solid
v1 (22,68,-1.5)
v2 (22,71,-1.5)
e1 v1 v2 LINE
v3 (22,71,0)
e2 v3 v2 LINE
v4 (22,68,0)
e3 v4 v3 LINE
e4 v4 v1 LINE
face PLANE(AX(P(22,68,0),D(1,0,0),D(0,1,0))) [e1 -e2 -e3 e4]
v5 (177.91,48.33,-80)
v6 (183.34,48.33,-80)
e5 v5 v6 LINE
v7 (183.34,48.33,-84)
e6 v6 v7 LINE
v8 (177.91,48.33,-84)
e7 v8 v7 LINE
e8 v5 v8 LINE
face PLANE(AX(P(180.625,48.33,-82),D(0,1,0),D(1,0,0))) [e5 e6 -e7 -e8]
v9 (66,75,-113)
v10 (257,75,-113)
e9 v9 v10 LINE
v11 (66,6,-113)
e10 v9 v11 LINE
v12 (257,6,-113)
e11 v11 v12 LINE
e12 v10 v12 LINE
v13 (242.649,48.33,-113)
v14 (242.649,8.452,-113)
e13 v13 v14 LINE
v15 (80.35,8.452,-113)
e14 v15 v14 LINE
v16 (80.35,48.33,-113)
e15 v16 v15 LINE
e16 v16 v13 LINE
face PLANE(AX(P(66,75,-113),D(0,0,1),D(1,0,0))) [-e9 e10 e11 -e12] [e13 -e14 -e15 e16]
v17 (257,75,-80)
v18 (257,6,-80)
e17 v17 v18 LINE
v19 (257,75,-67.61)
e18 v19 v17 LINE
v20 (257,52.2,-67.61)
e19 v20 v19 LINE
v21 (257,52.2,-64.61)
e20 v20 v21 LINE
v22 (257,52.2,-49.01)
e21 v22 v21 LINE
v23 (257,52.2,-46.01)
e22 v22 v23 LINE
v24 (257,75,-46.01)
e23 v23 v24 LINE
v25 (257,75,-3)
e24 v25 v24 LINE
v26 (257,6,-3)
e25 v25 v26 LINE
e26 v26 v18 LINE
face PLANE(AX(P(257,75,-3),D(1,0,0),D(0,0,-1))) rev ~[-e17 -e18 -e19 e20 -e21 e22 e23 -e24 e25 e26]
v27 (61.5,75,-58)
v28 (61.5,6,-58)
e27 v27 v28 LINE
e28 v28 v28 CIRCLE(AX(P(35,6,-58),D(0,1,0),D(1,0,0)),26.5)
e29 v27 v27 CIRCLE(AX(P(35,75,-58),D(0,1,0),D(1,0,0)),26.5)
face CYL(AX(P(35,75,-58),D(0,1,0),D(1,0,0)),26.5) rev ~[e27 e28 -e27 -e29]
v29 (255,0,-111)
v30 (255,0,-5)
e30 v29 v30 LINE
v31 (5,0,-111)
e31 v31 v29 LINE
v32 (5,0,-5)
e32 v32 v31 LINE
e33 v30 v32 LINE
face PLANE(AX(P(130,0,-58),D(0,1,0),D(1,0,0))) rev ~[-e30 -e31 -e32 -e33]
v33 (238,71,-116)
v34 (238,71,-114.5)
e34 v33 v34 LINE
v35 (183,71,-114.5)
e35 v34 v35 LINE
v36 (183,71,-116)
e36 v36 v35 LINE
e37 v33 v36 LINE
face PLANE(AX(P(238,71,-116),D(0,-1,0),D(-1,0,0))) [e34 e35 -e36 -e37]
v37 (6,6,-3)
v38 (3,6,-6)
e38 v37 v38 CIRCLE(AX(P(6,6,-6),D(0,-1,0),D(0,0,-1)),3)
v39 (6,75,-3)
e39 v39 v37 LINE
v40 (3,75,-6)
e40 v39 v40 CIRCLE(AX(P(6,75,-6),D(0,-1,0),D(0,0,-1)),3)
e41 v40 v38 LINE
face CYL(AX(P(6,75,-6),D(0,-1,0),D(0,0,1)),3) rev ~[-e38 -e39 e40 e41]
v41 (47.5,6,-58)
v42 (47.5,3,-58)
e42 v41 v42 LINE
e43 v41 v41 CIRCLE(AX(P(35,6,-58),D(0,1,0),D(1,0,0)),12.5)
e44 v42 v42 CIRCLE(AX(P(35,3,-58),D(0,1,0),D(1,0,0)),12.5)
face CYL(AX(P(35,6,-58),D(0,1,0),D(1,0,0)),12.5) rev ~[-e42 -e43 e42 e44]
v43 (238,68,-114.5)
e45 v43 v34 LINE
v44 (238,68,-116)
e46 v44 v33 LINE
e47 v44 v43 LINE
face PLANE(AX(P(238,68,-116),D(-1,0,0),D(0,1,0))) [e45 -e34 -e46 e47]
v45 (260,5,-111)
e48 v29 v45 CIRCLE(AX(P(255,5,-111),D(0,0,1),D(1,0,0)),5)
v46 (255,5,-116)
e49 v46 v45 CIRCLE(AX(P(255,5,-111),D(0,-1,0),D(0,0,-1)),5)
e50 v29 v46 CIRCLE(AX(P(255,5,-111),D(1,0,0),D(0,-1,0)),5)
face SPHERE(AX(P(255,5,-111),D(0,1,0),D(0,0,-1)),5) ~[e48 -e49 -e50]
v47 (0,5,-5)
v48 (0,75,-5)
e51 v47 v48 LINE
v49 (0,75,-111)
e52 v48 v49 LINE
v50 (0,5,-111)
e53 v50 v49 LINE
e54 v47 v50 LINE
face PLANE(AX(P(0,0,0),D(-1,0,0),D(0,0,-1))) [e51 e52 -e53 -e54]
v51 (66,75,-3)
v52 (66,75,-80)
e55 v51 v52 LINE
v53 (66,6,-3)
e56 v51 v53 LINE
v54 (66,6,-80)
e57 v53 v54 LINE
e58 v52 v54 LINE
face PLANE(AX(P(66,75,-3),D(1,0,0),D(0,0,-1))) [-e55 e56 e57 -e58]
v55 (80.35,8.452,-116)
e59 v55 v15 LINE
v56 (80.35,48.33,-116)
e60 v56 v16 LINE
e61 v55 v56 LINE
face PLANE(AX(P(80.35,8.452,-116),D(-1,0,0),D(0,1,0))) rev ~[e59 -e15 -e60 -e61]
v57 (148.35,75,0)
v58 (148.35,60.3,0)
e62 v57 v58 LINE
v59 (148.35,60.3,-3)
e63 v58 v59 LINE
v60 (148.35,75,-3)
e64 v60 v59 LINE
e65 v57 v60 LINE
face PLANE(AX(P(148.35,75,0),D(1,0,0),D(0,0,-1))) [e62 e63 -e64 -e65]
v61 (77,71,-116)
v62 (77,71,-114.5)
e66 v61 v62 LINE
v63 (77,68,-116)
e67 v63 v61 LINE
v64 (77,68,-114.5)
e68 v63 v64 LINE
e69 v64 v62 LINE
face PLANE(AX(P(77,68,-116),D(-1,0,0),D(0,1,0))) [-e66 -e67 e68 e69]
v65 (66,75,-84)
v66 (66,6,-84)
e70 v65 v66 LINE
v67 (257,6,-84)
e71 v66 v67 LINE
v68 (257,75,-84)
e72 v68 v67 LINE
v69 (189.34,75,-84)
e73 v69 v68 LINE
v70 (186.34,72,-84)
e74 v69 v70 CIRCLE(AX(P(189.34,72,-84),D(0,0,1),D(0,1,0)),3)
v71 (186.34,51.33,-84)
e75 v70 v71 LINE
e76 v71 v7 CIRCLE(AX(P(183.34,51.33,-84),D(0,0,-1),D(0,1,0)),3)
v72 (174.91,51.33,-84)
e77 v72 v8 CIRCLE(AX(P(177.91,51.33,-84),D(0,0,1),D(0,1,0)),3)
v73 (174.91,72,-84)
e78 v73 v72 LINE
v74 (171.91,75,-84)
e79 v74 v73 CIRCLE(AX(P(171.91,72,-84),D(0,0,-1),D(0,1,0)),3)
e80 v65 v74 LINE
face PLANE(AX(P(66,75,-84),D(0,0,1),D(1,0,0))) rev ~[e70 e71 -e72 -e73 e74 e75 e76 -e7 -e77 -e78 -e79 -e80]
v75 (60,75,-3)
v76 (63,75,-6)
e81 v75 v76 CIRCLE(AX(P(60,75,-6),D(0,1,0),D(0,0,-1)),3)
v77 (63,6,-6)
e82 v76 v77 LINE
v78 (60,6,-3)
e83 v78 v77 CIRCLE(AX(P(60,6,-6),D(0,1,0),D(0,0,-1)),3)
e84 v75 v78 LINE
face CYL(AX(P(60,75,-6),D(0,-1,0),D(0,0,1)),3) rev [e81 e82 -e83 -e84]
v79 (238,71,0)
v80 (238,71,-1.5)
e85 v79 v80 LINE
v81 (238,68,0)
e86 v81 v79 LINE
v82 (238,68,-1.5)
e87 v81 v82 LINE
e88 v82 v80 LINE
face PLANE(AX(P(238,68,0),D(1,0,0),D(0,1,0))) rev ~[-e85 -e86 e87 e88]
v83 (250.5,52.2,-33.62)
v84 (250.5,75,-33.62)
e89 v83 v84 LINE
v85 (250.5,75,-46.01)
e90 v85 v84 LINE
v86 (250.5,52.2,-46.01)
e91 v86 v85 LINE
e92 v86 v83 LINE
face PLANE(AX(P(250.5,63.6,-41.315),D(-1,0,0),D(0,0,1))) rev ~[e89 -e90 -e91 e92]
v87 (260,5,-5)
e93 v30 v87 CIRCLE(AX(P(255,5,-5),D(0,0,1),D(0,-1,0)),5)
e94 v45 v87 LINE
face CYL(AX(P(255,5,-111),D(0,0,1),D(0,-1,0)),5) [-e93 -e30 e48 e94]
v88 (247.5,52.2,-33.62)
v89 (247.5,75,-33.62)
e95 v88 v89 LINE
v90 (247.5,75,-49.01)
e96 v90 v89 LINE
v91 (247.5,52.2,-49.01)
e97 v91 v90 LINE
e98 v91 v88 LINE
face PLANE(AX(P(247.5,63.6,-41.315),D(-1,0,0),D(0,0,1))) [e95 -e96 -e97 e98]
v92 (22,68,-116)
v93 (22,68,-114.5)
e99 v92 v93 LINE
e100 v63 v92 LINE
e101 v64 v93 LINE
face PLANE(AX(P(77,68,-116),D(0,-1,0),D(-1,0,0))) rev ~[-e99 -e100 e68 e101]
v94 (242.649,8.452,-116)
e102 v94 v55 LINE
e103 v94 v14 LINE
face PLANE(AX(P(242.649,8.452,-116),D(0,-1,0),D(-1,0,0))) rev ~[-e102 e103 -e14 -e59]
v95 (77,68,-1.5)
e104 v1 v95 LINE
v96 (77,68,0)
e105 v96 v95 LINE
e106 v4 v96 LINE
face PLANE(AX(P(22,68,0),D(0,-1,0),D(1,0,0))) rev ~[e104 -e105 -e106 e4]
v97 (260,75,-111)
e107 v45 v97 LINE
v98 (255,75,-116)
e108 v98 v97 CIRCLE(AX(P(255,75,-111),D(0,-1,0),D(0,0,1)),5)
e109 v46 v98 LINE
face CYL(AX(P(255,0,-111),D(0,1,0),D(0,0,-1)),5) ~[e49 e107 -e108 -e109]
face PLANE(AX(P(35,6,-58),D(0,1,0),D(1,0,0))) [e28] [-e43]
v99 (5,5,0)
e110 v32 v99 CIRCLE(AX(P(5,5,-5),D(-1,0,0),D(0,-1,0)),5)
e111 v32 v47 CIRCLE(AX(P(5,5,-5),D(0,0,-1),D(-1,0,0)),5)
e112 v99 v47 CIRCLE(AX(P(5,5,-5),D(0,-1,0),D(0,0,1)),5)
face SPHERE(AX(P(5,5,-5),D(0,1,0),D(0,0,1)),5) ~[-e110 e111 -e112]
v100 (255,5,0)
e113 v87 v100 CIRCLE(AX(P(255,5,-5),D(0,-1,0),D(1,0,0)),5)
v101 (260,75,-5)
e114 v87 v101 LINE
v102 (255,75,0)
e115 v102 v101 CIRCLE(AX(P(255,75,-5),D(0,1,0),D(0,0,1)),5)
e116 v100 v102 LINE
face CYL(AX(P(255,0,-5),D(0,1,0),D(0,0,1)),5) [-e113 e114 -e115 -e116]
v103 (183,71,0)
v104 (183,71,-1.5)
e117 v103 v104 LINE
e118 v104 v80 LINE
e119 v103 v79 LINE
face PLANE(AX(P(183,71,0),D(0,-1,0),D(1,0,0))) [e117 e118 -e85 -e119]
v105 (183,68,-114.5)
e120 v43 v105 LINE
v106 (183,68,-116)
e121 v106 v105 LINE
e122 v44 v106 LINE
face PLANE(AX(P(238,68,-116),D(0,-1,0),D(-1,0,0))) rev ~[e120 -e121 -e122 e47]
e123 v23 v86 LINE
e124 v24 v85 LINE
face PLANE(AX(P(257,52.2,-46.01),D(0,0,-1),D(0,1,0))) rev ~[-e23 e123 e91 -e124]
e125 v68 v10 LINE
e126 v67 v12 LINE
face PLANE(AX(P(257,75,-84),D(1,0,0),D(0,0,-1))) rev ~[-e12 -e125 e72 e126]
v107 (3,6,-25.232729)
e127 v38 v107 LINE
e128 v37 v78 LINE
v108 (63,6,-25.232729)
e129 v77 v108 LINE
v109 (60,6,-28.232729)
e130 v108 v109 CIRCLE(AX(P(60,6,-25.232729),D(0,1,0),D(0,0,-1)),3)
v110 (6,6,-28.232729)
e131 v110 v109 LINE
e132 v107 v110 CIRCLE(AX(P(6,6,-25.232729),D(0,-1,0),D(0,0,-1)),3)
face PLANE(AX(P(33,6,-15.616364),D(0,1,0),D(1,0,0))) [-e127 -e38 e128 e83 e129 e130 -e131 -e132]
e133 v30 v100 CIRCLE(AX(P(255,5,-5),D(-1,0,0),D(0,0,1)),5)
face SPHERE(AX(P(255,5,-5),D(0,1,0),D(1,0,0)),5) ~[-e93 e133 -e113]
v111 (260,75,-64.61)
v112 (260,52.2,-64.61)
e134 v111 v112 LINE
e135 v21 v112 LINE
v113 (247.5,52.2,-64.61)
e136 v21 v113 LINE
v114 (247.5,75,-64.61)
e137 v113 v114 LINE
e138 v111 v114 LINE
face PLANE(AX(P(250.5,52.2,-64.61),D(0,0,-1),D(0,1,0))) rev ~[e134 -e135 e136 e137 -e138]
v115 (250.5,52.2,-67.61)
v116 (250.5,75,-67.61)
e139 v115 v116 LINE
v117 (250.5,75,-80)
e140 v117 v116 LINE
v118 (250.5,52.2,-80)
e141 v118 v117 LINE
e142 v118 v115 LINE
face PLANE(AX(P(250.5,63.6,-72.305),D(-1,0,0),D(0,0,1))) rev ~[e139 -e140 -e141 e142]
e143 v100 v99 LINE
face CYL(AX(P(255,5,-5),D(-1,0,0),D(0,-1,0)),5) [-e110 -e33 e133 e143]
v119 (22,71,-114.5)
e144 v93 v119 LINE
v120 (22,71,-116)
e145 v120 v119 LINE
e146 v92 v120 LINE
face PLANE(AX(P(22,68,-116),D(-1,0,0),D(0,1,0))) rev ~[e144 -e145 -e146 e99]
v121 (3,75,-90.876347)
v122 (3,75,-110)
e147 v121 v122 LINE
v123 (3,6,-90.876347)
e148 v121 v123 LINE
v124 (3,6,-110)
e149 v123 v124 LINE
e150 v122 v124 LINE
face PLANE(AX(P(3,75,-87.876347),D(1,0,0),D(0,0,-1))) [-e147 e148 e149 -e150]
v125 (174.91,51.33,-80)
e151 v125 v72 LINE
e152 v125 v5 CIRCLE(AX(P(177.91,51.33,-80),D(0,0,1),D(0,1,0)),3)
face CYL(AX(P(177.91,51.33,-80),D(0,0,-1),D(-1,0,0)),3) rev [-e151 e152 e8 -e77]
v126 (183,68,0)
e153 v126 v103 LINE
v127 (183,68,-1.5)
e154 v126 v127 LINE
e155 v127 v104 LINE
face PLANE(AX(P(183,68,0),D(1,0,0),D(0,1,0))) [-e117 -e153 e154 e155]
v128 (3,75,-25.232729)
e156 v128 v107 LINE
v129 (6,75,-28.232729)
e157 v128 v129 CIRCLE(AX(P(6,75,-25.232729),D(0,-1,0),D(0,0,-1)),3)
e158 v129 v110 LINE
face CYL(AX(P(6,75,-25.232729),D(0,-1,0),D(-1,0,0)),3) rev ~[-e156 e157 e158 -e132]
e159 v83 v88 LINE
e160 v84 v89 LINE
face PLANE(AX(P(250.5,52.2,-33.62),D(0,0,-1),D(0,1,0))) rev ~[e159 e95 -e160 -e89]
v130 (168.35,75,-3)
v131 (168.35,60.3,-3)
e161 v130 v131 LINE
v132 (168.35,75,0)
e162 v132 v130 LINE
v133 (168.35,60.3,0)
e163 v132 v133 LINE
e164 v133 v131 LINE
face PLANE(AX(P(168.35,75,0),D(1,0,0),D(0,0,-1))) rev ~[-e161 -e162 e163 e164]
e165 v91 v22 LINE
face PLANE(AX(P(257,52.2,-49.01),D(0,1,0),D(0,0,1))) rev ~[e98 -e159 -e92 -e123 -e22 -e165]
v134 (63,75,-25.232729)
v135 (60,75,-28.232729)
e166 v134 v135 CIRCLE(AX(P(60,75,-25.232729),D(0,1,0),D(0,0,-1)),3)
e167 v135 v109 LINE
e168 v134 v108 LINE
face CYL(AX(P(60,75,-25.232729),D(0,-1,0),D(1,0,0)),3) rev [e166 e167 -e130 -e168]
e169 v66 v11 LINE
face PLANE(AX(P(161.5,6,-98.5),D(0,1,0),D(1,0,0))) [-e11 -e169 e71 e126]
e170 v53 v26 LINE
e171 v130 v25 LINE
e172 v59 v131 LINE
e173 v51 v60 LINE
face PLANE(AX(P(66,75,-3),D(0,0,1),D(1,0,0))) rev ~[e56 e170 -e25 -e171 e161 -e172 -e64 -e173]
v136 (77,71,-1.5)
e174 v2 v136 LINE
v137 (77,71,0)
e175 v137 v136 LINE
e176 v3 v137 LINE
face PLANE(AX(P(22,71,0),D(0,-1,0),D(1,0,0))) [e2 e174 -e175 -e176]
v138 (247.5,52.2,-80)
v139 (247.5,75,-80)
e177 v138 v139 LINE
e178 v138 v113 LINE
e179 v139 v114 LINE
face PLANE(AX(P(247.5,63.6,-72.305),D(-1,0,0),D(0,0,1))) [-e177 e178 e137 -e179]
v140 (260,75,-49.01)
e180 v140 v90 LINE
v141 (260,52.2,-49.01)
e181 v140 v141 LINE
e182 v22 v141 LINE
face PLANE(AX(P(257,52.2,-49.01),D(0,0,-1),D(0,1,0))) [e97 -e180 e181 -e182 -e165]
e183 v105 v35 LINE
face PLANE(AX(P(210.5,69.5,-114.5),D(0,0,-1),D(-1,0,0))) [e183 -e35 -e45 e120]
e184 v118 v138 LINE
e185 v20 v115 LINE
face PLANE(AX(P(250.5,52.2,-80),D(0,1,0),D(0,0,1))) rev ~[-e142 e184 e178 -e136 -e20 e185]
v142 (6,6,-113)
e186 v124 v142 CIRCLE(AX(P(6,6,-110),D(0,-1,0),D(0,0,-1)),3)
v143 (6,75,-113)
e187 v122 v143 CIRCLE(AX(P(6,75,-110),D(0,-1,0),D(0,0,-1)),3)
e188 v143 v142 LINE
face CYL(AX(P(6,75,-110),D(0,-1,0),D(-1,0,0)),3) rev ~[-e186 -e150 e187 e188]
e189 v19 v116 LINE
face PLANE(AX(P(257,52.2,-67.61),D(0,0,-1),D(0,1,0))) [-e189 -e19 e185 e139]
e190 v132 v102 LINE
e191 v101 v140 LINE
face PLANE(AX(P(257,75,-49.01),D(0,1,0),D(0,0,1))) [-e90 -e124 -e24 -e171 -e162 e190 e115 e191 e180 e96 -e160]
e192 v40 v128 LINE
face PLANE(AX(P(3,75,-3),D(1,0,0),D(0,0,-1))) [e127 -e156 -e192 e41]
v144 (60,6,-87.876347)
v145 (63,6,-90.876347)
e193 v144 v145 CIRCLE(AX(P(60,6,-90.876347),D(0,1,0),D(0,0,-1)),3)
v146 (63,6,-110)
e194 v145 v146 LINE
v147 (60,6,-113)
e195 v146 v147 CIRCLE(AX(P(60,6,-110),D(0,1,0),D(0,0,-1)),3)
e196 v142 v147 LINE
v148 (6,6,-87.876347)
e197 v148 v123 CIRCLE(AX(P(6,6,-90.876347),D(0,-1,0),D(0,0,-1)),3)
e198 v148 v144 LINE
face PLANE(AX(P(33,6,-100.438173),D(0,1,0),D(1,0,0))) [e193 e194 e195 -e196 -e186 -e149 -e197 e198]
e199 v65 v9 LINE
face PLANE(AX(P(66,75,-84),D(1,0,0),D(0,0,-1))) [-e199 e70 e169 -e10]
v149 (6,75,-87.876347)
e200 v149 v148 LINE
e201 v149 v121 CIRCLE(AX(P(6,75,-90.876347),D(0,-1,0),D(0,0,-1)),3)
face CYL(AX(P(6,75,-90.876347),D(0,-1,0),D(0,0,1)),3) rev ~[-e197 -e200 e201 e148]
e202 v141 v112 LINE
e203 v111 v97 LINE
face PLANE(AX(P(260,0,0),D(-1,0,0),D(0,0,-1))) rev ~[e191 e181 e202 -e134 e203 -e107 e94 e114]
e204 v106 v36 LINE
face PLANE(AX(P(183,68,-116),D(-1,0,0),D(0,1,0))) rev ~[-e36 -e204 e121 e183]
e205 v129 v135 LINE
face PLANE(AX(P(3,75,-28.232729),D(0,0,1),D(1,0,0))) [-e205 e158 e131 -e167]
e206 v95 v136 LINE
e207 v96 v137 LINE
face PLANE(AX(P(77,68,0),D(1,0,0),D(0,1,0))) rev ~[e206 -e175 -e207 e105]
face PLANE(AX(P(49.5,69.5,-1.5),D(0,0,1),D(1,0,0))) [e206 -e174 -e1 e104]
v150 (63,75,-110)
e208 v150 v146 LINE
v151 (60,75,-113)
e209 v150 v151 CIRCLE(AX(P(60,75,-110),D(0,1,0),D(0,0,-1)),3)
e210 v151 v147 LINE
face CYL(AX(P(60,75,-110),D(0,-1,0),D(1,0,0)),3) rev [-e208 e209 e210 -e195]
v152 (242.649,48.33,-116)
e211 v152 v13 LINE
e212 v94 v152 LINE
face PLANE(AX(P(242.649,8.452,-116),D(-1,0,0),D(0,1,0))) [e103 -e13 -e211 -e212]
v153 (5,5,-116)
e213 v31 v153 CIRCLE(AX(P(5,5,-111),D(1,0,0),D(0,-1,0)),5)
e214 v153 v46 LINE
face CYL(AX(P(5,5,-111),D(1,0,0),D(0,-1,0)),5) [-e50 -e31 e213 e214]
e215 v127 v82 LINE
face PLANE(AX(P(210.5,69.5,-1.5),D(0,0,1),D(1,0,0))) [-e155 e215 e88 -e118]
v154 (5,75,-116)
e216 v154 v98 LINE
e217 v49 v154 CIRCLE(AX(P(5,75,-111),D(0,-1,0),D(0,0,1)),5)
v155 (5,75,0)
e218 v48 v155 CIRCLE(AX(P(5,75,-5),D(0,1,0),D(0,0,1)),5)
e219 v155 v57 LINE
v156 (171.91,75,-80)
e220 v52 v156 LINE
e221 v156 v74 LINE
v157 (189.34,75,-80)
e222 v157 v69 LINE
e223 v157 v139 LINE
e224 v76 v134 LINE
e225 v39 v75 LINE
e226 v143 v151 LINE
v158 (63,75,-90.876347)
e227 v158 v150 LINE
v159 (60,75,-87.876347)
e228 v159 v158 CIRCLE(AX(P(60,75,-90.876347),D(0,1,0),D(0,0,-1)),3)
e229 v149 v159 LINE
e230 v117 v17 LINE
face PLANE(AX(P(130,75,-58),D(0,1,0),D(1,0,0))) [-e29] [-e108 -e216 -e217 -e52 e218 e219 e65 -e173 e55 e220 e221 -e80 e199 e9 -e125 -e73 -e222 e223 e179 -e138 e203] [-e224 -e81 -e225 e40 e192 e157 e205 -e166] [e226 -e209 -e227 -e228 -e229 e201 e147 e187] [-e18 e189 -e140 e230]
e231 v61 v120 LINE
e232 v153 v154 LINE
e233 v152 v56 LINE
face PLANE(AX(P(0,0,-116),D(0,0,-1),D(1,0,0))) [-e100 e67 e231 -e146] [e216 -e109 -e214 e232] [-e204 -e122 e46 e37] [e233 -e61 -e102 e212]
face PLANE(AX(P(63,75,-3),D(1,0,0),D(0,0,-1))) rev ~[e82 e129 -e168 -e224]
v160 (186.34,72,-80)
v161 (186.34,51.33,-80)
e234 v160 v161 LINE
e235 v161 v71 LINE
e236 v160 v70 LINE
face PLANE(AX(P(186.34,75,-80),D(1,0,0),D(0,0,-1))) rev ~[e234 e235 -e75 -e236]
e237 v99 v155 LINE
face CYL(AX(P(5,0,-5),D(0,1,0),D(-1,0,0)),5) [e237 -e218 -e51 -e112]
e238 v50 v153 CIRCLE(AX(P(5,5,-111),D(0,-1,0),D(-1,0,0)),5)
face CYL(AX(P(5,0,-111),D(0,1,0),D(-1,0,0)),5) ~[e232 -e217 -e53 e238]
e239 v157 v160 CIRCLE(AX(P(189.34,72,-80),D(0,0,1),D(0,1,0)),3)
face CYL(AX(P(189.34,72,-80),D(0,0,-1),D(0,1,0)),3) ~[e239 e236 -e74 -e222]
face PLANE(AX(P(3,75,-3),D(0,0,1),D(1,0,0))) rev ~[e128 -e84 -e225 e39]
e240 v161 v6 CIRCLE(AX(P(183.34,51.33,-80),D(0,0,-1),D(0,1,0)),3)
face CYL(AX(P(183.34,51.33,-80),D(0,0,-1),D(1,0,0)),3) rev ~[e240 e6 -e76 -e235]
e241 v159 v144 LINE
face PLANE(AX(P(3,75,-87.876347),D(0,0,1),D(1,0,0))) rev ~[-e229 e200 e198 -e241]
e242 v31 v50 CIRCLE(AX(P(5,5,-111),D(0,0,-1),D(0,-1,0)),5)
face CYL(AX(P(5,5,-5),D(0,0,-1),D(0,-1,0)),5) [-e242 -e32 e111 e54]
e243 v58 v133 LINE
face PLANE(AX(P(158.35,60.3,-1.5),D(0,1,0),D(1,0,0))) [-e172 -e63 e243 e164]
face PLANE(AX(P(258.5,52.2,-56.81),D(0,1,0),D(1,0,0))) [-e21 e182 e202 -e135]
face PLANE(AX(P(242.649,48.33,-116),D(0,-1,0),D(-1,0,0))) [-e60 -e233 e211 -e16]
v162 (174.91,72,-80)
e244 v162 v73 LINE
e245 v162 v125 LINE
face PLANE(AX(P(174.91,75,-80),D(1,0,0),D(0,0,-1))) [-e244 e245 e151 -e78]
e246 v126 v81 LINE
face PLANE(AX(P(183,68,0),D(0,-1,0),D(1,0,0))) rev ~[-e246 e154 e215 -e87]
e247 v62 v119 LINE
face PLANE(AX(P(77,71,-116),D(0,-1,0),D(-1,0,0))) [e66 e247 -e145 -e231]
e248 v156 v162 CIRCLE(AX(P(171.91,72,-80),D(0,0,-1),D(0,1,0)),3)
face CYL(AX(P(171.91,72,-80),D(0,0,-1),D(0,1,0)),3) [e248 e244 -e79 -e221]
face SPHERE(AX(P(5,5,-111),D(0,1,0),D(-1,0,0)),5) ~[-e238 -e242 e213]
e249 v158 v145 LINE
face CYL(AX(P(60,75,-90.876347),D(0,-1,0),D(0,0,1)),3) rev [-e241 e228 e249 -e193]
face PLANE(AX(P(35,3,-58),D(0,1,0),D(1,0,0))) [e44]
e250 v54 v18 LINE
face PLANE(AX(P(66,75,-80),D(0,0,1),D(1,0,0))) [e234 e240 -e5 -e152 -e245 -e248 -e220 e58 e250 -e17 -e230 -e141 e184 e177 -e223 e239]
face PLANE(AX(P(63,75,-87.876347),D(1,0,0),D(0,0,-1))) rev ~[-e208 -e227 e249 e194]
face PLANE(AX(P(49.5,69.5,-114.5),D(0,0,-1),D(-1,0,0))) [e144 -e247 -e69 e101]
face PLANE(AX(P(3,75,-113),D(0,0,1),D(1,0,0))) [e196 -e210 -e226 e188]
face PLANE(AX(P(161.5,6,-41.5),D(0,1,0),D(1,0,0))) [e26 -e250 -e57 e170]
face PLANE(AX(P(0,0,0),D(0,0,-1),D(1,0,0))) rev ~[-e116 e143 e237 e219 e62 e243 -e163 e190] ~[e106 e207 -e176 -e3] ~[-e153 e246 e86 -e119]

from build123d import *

# Parameters (mm, degrees)
SKETCH1_W           = 260
SKETCH1_H           = 116
BOSS_EXTRUDE1_DEPTH = 75
SKETCH2_R           = 26.5
SKETCH2_W           = 191
SKETCH2_H           = 29
SKETCH2_H_2         = 77
SKETCH2_W_2         = 60
SKETCH2_H_3         = 25.123653406
SKETCH2_H_4         = 25.23272894
CUT_EXTRUDE1_DEPTH  = 69
FILLET1_R           = 5
FILLET2_R           = 5
SKETCH4_W           = 11.43
SKETCH4_H           = 4
CUT_EXTRUDE3_DEPTH  = 26.67
FILLET3_R           = 3
SKETCH5_W           = 55
SKETCH5_H           = 3
CUT_EXTRUDE4_DEPTH  = 1.5
SKETCH6_W           = 55
SKETCH6_H           = 3
CUT_EXTRUDE5_DEPTH  = 1.5
FILLET4_R           = 3
SKETCH7_W           = 162.299
SKETCH7_H           = 39.878
CUT_EXTRUDE6_DEPTH  = 10
SKETCH9_W           = 20
SKETCH9_H           = 3
CUT_EXTRUDE7_DEPTH  = 14.7
SKETCH10_W          = 3
SKETCH10_H          = 15.6
CUT_EXTRUDE8_DEPTH  = 22.8
SKETCH11_W          = 3
SKETCH11_H          = 22.8
BOSS_EXTRUDE2_DEPTH = 6.5
SKETCH12_W          = 15.39
SKETCH12_H          = 22.8
BOSS_EXTRUDE3_DEPTH = 3
SKETCH13_R          = 12.5
CUT_EXTRUDE9_DEPTH  = 3


with BuildPart() as part:
    # Sketch1 → Boss-Extrude1 (new body)
    with BuildSketch(Plane(origin=(0, 0, 0), x_dir=(1, 0, 0), z_dir=(0, 1, 0))):
        with Locations((130, 58)):
            Rectangle(SKETCH1_W, SKETCH1_H)
    extrude(amount=BOSS_EXTRUDE1_DEPTH)

    # Sketch2 → Cut-Extrude1 (cut)
    with BuildSketch(Plane(origin=(0, 75, 0), x_dir=(1, 0, 0), z_dir=(0, 1, 0))):
        with Locations((35, 58)):
            Circle(SKETCH2_R)
        with Locations((161.5, 98.5)):
            Rectangle(SKETCH2_W, SKETCH2_H)
        with Locations((161.5, 41.5)):
            Rectangle(SKETCH2_W, SKETCH2_H_2)
        with Locations((33, 100.438173297)):
            Rectangle(SKETCH2_W_2, SKETCH2_H_3)
        with Locations((33, 15.61636447)):
            Rectangle(SKETCH2_W_2, SKETCH2_H_4)
    extrude(amount=-CUT_EXTRUDE1_DEPTH, mode=Mode.SUBTRACT)

    # Fillet1
    fillet1_edges = [part.edges().sort_by_distance(p)[0] for p in [
        (0, 37.5, -116),
        (260, 37.5, -116),
        (260, 37.5, 0),
        (0, 37.5, 0),
    ]]
    fillet(fillet1_edges, radius=FILLET1_R)

    # Fillet2
    fillet2_edges = [part.edges().sort_by_distance(p)[0] for p in [
        (130, 0, -116),
        (0, 0, -58),
        (260, 0, -58),
        (130, 0, 0),
        (1.464466094, 0, -114.535533906),
        (1.464466094, 0, -1.464466094),
        (258.535533906, 0, -1.464466094),
        (258.535533906, 0, -114.535533906),
    ]]
    fillet(fillet2_edges, radius=FILLET2_R)

    # Sketch4 → Cut-Extrude3 (cut)
    with BuildSketch(Plane(origin=(0, 75, 0), x_dir=(1, 0, 0), z_dir=(0, 1, 0))):
        with Locations((180.625, 82)):
            Rectangle(SKETCH4_W, SKETCH4_H)
    extrude(amount=-CUT_EXTRUDE3_DEPTH, mode=Mode.SUBTRACT)

    # Fillet3
    fillet3_edges = [part.edges().sort_by_distance(p)[0] for p in [
        (186.34, 48.33, -82),
        (174.91, 48.33, -82),
        (186.34, 75, -82),
        (174.91, 75, -82),
    ]]
    fillet(fillet3_edges, radius=FILLET3_R)

    # Sketch5 → Cut-Extrude4 (cut)
    with BuildSketch(Plane.XY):
        with Locations((49.5, 69.5)):
            Rectangle(SKETCH5_W, SKETCH5_H)
        with Locations((210.5, 69.5)):
            Rectangle(SKETCH5_W, SKETCH5_H)
    extrude(amount=-CUT_EXTRUDE4_DEPTH, mode=Mode.SUBTRACT)

    # Sketch6 → Cut-Extrude5 (cut)
    with BuildSketch(Plane(origin=(0, 0, -116), x_dir=(-1, 0, 0), z_dir=(0, 0, -1))):
        with Locations((-210.5, 69.5)):
            Rectangle(SKETCH6_W, SKETCH6_H)
        with Locations((-49.5, 69.5)):
            Rectangle(SKETCH6_W, SKETCH6_H)
    extrude(amount=-CUT_EXTRUDE5_DEPTH, mode=Mode.SUBTRACT)

    # Fillet4
    fillet4_edges = [part.edges().sort_by_distance(p)[0] for p in [
        (3, 40.5, -87.876346594),
        (3, 40.5, -113),
        (63, 40.5, -113),
        (63, 40.5, -87.876346594),
        (3, 40.5, -3),
        (3, 40.5, -28.23272894),
        (63, 40.5, -28.23272894),
        (63, 40.5, -3),
    ]]
    fillet(fillet4_edges, radius=FILLET4_R)

    # Sketch7 → Cut-Extrude6 (cut)
    with BuildSketch(Plane(origin=(0, 0, -116), x_dir=(-1, 0, 0), z_dir=(0, 0, -1))):
        with Locations((-161.4995, 28.391)):
            Rectangle(SKETCH7_W, SKETCH7_H)
    extrude(amount=-CUT_EXTRUDE6_DEPTH, mode=Mode.SUBTRACT)

    # Sketch9 → Cut-Extrude7 (cut)
    with BuildSketch(Plane(origin=(0, 75, 0), x_dir=(1, 0, 0), z_dir=(0, 1, 0))):
        with Locations((158.35, 1.5)):
            Rectangle(SKETCH9_W, SKETCH9_H)
    extrude(amount=-CUT_EXTRUDE7_DEPTH, mode=Mode.SUBTRACT)

    # Sketch10 → Cut-Extrude8 (cut)
    with BuildSketch(Plane(origin=(0, 75, 0), x_dir=(1, 0, 0), z_dir=(0, 1, 0))):
        with Locations((258.5, 56.81)):
            Rectangle(SKETCH10_W, SKETCH10_H)
    extrude(amount=-CUT_EXTRUDE8_DEPTH, mode=Mode.SUBTRACT)

    # Sketch11 → Boss-Extrude2 (add)
    with BuildSketch(Plane.ZY.offset(-257)):
        with Locations((-47.51, 63.6)):
            Rectangle(SKETCH11_W, SKETCH11_H)
        with Locations((-66.11, 63.6)):
            Rectangle(SKETCH11_W, SKETCH11_H)
    extrude(amount=BOSS_EXTRUDE2_DEPTH)

    # Sketch12 → Boss-Extrude3 (add)
    with BuildSketch(Plane.ZY.offset(-250.5)):
        with Locations((-72.305, 63.6)):
            Rectangle(SKETCH12_W, SKETCH12_H)
        with Locations((-41.315, 63.6)):
            Rectangle(SKETCH12_W, SKETCH12_H)
    extrude(amount=BOSS_EXTRUDE3_DEPTH)

    # Sketch13 → Cut-Extrude9 (cut)
    with BuildSketch(Plane(origin=(0, 6, 0), x_dir=(1, 0, 0), z_dir=(0, 1, 0))):
        with Locations((35, 58)):
            Circle(SKETCH13_R)
    extrude(amount=-CUT_EXTRUDE9_DEPTH, mode=Mode.SUBTRACT)


solid = part.part
